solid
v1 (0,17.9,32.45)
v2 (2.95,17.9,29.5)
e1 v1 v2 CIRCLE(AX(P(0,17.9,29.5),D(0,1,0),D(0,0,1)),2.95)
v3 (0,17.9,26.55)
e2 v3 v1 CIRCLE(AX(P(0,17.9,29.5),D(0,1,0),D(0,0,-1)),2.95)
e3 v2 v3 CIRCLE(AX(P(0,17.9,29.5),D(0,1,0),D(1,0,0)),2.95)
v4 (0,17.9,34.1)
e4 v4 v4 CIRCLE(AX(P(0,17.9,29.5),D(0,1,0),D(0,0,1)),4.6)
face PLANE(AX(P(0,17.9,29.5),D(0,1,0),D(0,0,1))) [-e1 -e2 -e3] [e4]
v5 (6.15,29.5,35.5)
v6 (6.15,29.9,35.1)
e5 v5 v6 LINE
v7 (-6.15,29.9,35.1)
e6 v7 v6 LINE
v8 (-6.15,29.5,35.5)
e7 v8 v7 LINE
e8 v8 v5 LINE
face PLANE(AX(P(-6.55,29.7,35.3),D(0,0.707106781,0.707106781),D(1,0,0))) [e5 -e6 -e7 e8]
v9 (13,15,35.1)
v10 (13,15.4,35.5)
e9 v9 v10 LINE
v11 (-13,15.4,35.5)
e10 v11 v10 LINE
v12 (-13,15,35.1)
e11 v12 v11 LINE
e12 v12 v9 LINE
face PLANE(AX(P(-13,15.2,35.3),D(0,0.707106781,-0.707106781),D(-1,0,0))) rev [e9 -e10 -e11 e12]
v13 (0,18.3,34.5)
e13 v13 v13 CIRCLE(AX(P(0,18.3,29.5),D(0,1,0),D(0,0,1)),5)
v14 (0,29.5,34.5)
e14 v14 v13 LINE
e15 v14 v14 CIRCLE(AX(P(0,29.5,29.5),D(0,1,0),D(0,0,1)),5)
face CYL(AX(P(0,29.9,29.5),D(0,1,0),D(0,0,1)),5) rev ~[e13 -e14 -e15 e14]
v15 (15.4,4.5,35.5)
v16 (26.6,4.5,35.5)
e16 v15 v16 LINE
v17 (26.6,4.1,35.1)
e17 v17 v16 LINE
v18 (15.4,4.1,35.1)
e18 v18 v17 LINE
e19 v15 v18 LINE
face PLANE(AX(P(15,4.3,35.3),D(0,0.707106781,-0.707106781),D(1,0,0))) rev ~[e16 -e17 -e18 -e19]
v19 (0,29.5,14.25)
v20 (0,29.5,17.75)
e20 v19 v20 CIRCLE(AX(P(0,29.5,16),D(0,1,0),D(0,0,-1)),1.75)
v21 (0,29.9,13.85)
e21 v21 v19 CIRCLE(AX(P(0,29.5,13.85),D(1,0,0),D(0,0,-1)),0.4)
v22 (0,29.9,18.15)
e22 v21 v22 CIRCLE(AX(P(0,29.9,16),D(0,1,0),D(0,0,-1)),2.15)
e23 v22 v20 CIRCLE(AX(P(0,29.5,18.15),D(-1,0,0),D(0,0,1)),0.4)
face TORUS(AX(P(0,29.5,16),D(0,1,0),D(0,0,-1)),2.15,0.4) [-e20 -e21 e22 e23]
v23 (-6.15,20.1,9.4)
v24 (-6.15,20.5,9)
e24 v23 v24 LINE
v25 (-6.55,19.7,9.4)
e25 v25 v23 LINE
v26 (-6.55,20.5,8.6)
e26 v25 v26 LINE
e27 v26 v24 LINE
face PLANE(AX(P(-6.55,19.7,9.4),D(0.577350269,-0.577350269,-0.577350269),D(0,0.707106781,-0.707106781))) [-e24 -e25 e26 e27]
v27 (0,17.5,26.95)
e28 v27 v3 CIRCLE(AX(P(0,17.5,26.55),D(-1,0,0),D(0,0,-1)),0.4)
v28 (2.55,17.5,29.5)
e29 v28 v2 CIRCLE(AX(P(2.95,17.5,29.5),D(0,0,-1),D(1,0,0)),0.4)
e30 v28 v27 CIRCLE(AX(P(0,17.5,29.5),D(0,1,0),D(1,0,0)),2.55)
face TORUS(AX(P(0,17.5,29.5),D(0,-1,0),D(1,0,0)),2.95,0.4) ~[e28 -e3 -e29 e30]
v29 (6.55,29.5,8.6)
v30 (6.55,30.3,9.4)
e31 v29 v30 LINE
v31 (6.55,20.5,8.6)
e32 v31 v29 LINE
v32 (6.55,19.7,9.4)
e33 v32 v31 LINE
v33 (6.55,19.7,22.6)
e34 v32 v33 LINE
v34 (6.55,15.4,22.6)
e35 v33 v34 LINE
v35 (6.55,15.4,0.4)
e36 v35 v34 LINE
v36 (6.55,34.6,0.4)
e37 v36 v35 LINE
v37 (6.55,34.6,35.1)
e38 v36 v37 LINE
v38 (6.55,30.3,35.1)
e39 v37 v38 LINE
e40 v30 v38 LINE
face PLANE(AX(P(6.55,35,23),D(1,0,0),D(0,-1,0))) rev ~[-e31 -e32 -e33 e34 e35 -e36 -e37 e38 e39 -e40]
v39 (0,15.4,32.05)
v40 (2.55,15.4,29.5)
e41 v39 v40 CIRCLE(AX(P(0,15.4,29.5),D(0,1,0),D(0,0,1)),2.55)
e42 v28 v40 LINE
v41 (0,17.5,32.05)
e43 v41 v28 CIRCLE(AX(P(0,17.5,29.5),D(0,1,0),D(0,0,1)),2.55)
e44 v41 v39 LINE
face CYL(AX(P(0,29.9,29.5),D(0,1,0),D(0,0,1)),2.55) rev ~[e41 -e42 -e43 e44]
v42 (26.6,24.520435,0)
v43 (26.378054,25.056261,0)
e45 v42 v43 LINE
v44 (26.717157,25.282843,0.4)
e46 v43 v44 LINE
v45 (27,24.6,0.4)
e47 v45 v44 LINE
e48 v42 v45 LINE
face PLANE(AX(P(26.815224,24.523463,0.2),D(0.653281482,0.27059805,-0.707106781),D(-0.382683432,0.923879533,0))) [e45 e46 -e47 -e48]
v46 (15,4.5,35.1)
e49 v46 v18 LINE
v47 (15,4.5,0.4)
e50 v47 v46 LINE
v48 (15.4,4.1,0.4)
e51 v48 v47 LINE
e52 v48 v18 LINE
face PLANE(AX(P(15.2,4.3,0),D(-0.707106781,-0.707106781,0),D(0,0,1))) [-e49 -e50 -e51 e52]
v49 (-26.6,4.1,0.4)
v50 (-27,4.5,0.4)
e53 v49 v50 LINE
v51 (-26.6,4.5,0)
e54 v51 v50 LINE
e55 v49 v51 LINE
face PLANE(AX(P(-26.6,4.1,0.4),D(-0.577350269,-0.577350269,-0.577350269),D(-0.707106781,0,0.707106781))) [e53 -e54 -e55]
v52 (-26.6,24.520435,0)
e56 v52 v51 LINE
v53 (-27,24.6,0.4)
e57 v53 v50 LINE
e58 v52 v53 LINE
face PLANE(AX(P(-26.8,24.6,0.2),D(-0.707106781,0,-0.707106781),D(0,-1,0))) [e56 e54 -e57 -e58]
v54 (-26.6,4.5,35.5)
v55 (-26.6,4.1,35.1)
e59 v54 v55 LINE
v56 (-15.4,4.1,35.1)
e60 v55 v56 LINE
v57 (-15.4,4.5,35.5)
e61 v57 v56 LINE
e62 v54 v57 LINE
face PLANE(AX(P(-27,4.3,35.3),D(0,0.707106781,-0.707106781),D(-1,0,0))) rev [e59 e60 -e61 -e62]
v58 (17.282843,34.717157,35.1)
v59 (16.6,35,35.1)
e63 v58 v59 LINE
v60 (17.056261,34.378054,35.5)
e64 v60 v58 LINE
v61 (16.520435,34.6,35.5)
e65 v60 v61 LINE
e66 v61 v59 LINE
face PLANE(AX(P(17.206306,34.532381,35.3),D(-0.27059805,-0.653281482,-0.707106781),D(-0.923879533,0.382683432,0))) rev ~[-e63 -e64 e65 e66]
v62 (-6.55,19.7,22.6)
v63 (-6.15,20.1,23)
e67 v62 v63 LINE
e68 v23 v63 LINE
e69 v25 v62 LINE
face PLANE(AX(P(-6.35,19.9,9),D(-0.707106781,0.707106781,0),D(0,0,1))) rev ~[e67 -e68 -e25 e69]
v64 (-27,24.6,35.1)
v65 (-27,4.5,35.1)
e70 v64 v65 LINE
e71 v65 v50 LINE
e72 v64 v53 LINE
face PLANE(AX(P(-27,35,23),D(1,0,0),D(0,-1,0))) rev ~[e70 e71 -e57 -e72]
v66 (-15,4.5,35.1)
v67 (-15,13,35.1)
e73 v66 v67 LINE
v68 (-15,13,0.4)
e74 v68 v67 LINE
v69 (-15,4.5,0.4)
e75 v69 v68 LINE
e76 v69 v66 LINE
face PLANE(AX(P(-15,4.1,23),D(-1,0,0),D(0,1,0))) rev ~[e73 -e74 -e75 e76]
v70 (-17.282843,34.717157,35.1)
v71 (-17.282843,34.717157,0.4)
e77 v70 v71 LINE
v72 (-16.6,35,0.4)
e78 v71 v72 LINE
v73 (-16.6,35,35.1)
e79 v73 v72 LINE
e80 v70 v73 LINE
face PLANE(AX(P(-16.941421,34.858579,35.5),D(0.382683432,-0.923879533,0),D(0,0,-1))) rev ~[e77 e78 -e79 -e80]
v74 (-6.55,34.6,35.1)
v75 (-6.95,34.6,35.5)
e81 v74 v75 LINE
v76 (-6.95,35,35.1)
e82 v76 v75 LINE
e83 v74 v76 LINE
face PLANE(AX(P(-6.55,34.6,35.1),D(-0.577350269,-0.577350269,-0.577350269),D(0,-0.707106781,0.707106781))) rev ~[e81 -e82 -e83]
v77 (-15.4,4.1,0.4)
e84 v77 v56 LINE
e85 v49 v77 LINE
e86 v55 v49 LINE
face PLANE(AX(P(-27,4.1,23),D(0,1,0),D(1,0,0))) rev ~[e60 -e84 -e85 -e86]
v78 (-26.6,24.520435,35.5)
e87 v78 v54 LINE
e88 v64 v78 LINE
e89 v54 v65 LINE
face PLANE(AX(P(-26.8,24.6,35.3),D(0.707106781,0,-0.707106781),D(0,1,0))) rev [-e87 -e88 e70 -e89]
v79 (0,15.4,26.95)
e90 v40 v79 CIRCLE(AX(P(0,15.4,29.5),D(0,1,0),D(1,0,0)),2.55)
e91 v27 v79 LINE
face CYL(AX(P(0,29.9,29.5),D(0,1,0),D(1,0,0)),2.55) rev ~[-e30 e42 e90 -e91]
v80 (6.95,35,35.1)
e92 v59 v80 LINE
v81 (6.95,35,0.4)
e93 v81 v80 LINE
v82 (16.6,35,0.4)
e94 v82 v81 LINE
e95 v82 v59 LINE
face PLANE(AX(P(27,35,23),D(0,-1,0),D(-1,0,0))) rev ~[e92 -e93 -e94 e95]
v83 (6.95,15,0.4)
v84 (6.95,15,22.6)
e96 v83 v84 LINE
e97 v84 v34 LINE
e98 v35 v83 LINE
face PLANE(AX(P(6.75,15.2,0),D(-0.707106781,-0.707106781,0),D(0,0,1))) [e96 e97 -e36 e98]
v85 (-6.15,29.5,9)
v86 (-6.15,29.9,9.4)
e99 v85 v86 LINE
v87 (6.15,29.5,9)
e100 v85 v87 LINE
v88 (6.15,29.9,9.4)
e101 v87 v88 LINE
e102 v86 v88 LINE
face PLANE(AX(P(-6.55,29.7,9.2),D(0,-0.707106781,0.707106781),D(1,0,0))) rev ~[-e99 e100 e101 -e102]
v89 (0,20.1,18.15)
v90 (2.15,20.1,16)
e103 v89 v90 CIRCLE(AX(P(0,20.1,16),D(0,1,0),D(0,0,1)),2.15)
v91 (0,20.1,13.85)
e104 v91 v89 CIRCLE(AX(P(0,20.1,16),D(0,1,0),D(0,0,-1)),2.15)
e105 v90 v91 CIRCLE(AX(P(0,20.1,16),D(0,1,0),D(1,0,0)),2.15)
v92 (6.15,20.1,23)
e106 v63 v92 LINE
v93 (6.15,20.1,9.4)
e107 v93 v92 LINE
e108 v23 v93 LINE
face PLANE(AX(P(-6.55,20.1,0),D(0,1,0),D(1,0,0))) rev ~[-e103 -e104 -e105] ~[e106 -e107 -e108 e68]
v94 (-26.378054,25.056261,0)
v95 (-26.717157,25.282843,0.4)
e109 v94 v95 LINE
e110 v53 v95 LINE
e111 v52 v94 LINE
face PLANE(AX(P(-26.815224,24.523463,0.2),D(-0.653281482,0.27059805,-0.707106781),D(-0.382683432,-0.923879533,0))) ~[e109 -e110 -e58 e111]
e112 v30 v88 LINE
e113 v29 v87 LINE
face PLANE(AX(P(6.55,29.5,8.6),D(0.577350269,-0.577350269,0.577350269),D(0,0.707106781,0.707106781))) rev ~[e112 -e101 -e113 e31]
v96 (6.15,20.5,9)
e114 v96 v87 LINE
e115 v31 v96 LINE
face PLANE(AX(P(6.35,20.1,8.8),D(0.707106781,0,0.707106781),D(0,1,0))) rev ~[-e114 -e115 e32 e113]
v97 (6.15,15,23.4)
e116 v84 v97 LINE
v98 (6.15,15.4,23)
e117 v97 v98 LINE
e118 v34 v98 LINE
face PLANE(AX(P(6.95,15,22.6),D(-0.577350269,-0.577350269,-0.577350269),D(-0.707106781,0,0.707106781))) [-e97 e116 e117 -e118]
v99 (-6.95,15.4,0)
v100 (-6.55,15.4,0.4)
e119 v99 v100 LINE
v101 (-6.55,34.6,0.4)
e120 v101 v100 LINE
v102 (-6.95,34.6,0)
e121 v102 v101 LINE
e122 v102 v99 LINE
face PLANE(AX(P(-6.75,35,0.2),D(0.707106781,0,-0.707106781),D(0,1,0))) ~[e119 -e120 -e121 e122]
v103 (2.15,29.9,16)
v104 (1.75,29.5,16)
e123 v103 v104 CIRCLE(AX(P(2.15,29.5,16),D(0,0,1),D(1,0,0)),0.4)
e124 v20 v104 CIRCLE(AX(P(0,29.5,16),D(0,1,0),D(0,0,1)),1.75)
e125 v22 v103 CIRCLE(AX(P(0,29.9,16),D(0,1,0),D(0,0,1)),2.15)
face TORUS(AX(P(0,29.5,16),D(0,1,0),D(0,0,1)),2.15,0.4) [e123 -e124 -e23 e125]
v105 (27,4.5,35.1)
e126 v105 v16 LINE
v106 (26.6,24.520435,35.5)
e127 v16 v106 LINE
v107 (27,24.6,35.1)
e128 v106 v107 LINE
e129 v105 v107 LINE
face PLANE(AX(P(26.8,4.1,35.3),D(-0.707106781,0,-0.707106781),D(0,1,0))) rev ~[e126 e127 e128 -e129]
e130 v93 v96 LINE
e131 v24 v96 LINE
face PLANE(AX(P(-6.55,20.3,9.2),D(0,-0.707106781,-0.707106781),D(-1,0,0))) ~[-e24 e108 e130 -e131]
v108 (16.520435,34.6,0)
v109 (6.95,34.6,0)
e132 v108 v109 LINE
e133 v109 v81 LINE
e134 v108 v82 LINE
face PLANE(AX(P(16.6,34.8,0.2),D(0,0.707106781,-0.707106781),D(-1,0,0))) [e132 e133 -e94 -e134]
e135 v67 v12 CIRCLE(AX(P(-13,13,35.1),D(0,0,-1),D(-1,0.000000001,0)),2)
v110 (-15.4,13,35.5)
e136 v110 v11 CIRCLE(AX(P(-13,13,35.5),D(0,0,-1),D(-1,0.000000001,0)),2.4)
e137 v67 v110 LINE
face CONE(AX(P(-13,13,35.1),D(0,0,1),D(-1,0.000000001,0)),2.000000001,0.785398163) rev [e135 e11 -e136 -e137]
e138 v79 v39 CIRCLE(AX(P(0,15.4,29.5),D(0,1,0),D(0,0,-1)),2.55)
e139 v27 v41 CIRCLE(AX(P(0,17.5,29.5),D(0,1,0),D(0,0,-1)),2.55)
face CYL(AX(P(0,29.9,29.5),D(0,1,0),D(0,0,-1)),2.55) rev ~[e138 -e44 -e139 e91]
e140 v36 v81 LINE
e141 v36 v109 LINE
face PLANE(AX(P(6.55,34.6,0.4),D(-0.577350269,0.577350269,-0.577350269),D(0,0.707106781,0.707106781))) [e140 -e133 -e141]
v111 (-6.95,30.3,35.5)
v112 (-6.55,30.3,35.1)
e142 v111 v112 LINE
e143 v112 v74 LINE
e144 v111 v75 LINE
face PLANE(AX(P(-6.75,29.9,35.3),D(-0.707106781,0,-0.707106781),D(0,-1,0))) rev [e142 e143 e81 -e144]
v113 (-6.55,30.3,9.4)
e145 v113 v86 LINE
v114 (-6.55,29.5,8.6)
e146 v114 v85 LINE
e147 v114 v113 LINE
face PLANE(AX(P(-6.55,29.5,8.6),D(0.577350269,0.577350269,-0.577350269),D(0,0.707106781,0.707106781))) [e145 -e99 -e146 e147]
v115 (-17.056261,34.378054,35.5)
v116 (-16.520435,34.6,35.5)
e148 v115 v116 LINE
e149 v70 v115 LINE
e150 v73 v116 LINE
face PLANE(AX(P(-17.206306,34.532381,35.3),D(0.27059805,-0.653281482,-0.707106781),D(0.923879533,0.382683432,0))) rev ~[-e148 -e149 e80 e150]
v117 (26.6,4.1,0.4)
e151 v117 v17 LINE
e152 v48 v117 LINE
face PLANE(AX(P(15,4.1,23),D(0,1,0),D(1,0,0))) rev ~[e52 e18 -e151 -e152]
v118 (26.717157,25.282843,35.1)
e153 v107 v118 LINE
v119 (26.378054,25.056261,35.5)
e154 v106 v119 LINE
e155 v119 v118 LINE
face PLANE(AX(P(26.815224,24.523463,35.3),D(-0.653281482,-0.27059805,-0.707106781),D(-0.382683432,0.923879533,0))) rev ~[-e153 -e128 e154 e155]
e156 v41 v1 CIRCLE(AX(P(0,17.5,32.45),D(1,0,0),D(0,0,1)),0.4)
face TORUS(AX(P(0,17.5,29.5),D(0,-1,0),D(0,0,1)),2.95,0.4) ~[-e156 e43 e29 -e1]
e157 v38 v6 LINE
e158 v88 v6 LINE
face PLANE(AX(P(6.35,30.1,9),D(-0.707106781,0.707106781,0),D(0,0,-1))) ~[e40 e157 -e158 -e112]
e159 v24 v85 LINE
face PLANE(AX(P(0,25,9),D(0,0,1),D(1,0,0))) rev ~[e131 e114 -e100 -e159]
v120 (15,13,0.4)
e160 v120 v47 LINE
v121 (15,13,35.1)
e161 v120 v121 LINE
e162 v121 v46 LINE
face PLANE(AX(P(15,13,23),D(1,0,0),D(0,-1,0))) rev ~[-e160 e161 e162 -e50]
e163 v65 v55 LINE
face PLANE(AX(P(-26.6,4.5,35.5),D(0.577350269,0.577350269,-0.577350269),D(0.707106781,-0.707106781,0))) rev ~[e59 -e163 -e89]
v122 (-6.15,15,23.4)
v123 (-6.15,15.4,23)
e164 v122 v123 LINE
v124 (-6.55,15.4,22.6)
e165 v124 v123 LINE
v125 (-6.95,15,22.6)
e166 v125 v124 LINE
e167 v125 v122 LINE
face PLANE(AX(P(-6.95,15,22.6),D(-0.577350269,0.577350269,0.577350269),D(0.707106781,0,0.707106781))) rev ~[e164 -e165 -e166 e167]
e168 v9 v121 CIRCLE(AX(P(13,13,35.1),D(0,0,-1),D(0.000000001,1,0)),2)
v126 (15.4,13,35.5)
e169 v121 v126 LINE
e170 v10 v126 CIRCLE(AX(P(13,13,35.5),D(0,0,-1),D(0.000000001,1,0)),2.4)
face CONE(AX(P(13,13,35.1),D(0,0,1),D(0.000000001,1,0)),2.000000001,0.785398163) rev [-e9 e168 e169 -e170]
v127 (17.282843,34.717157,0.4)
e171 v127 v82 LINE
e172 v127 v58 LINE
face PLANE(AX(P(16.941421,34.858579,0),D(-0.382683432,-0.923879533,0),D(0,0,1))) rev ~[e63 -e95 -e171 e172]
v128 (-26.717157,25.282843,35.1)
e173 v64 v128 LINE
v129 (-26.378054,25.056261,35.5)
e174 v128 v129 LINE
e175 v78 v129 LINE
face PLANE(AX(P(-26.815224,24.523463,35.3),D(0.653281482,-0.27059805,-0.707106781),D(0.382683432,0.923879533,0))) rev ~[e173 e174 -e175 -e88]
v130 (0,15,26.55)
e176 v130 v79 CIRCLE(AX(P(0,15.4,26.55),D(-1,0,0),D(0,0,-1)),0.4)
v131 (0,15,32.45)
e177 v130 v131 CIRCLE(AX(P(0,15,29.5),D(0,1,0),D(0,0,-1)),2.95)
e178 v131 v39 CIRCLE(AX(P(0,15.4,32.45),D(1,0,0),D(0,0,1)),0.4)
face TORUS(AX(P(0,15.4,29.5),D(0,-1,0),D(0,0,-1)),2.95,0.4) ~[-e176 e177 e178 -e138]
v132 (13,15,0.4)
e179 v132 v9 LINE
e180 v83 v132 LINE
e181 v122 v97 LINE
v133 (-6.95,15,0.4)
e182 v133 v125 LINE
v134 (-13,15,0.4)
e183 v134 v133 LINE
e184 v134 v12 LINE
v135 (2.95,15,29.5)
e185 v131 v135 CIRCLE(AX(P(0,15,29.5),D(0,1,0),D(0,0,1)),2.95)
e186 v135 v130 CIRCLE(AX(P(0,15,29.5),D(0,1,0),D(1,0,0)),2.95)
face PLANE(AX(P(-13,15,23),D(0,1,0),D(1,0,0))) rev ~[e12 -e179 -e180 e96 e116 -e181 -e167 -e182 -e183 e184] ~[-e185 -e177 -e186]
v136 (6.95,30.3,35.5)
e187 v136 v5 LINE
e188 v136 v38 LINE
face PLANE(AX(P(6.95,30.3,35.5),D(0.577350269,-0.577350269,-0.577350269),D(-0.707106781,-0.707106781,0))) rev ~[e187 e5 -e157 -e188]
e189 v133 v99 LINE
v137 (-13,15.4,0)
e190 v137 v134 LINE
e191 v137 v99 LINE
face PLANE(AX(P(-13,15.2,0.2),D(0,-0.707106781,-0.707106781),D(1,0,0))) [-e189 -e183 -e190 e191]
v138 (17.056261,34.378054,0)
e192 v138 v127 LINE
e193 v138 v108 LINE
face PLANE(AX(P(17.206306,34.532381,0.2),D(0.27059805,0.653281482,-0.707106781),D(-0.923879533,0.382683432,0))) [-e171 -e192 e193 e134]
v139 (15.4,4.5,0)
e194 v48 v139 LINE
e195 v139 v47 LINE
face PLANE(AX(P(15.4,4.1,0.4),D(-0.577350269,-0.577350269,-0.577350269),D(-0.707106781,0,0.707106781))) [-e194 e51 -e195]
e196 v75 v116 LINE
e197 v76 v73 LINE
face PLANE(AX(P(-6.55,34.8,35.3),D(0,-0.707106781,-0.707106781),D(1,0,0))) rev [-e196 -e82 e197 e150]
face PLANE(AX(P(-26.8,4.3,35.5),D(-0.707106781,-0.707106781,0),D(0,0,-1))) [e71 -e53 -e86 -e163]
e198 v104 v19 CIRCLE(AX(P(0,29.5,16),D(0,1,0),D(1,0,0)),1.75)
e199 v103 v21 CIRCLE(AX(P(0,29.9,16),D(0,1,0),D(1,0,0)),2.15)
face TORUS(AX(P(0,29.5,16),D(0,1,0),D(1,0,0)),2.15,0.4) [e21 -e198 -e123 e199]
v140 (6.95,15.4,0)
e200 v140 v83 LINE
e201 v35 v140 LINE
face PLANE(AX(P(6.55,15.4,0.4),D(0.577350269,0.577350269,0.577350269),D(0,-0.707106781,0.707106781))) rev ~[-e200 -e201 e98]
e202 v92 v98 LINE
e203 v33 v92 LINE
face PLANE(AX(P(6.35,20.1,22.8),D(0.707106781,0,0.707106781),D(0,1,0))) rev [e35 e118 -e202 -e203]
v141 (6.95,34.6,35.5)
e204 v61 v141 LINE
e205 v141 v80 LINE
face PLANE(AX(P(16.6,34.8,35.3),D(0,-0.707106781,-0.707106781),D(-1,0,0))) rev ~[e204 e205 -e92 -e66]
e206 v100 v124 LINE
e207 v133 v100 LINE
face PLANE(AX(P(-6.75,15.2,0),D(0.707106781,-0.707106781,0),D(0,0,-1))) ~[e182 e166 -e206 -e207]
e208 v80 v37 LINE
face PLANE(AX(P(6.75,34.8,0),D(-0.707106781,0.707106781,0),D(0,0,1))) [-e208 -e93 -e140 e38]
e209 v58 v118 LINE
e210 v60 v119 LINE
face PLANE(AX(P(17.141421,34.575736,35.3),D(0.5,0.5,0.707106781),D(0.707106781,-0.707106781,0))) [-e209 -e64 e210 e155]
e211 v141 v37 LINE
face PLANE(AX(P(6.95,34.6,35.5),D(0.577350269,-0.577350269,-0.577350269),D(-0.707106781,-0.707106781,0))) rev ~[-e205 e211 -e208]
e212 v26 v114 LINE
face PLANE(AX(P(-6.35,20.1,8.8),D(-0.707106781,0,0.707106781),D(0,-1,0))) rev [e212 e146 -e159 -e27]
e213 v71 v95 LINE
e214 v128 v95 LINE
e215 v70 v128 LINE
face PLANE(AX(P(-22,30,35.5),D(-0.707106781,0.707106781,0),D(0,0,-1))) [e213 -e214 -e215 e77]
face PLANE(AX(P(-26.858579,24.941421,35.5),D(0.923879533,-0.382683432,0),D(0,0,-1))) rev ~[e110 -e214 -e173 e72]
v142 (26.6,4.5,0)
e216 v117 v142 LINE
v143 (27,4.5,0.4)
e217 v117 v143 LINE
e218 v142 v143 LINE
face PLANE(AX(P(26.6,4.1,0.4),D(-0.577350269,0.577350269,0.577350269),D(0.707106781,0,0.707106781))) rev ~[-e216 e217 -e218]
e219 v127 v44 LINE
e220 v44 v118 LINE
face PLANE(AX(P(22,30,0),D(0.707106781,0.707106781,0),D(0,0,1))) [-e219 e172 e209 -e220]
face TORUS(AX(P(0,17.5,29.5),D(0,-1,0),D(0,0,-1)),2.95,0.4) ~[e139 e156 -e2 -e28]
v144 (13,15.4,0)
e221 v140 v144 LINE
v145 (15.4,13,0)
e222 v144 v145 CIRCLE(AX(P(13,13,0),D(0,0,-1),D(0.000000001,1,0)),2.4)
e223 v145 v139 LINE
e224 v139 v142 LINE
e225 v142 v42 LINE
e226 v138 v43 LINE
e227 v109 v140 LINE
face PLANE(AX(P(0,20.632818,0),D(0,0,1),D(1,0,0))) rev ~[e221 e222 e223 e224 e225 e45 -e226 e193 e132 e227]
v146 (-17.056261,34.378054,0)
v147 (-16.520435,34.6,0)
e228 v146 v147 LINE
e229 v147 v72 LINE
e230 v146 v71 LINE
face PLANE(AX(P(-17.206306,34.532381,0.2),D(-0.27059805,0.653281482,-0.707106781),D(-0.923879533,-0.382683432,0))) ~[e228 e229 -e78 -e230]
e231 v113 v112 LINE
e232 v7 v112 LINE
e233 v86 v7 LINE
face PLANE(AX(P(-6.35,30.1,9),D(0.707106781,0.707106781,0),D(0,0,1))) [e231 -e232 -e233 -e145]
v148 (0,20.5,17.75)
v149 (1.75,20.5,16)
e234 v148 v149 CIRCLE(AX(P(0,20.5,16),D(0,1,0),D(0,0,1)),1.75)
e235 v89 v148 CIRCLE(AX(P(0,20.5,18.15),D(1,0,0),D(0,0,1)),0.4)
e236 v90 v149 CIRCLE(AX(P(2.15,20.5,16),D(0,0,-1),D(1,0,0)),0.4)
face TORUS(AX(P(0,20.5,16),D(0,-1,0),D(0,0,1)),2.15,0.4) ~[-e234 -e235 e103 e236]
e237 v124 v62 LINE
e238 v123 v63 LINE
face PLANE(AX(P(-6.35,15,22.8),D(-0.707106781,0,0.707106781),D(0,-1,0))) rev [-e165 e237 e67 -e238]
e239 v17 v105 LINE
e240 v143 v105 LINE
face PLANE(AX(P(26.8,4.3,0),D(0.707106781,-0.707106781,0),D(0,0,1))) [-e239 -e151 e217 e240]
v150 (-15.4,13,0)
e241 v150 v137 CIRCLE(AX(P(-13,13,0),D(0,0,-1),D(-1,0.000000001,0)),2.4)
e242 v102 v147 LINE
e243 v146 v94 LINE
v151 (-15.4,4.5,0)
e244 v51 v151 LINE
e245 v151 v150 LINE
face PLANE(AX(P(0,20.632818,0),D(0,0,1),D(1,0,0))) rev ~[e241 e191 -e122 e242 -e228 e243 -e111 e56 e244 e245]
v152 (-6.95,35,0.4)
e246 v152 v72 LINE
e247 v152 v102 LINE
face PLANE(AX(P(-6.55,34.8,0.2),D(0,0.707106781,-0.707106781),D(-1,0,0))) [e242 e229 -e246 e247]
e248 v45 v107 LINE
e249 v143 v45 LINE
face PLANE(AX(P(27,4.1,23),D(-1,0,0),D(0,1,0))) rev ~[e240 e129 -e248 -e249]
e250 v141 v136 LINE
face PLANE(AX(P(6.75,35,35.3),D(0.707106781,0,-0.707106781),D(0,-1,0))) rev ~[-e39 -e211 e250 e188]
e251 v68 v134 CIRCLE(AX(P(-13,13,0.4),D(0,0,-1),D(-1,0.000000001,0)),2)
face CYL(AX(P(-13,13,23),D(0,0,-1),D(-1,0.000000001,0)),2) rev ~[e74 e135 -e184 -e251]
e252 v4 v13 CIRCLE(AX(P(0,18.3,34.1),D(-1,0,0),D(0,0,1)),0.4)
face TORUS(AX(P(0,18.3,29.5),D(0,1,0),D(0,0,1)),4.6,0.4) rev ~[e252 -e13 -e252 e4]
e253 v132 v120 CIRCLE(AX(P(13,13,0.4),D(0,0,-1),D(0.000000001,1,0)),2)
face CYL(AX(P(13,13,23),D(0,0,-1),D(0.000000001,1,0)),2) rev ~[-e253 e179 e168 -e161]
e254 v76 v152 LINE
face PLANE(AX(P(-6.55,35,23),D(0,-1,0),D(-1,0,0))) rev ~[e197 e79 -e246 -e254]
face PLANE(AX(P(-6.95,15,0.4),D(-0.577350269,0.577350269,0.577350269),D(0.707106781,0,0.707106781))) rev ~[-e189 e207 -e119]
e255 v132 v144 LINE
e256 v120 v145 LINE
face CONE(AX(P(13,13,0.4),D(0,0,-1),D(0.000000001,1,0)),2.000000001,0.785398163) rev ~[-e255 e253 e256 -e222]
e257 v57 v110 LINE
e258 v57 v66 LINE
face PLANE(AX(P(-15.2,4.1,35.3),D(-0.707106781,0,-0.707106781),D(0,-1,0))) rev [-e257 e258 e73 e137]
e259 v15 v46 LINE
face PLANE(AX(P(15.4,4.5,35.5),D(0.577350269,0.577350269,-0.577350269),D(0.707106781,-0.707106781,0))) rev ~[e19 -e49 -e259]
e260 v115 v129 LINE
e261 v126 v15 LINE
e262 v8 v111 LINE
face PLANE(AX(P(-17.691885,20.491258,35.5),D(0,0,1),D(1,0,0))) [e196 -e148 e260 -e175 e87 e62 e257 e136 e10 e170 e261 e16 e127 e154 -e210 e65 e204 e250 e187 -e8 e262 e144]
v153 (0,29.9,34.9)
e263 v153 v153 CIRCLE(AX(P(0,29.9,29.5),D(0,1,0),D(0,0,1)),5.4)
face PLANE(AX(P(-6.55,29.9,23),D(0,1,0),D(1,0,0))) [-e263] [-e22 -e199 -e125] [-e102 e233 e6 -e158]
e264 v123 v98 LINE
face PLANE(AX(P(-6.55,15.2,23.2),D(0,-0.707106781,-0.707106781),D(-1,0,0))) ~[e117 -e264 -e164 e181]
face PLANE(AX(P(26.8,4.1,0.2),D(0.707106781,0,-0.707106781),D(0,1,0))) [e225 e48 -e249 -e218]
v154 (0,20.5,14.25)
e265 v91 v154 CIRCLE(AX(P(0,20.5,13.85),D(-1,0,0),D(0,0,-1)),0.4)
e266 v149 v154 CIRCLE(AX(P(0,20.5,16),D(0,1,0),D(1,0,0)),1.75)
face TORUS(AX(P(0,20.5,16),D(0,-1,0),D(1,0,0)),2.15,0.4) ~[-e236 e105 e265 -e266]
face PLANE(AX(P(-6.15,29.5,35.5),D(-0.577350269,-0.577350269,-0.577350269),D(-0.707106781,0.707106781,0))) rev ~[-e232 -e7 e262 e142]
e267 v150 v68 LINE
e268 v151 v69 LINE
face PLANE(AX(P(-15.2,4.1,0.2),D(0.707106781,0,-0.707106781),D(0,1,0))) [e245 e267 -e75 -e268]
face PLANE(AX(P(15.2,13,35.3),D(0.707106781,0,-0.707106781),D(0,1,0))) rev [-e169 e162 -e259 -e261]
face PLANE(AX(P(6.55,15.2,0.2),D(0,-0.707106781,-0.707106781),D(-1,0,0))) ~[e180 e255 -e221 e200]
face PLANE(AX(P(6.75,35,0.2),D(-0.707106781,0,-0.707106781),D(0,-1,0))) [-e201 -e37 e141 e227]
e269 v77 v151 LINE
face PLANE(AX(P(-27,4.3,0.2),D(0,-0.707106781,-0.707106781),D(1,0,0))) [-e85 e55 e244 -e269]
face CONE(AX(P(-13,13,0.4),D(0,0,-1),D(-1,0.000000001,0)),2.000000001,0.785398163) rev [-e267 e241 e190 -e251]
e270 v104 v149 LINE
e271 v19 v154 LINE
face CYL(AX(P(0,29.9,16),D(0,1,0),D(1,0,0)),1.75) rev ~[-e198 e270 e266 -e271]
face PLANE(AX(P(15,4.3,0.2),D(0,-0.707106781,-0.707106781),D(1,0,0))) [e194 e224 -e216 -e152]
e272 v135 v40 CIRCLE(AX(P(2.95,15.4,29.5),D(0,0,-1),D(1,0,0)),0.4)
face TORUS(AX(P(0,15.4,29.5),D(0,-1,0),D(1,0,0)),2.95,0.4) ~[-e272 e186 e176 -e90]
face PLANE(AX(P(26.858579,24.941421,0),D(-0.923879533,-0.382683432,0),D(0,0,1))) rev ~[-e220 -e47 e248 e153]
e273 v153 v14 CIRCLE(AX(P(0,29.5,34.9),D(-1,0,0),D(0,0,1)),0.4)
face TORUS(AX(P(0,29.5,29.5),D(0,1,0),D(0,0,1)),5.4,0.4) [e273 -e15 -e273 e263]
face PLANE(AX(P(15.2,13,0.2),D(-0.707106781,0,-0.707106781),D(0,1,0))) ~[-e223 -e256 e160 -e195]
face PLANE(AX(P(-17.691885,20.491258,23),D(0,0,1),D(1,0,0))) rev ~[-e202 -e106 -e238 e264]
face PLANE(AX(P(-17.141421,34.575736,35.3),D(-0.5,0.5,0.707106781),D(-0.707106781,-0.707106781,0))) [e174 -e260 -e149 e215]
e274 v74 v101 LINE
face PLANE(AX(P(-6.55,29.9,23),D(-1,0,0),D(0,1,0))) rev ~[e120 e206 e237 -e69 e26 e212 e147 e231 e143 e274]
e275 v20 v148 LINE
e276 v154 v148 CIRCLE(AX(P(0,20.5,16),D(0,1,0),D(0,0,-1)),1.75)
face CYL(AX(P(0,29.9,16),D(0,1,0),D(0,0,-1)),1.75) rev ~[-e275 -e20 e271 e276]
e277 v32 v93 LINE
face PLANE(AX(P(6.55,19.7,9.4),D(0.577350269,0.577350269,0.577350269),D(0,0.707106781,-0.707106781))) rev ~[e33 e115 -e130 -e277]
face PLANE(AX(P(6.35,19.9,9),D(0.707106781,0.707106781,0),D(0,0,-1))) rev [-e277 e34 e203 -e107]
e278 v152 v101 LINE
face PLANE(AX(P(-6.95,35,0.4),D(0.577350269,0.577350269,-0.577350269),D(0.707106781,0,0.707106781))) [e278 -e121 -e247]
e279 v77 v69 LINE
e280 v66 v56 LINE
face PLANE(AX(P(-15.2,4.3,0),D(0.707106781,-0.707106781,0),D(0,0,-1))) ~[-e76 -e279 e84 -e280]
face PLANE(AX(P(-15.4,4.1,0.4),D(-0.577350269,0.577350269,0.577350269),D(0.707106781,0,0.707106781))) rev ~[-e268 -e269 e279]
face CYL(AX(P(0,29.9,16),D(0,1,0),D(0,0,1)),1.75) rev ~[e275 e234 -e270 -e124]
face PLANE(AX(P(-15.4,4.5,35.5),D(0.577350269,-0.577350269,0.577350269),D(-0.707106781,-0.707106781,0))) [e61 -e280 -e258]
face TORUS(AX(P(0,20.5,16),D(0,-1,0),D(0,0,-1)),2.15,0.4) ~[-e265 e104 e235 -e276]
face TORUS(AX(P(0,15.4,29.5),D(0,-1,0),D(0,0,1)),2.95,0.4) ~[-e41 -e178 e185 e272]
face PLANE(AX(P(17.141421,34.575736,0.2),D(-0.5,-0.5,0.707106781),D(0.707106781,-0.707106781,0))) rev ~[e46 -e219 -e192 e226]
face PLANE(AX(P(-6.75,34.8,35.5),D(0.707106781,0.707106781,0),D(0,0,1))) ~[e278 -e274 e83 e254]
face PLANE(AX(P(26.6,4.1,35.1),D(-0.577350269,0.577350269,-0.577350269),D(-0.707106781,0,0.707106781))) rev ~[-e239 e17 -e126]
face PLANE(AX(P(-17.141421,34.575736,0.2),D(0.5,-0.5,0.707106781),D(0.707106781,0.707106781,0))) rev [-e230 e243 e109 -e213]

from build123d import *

# Parameters (mm, degrees)
BOSS_EXTRUDE1_DEPTH = 23
BOSS_EXTRUDE5_START = 23
SKETCH1_9_W         = 13.1
SKETCH1_9_H         = 9.8
SKETCH1_9_H_2       = 5.1
BOSS_EXTRUDE5_DEPTH = 12.5
SKETCH1_4_W         = 13.1
SKETCH1_4_H         = 9.8
CUT_EXTRUDE1_DEPTH  = 9
CHAMFER4_SIZE       = 10
CHAMFER6_SIZE       = 0.4
CUT_EXTRUDE5_DEPTH  = 52.525624693
SKETCH6_4_R         = 1.75
SKETCH6_4_R_2       = 5
SKETCH6_4_R_3       = 2.55
CUT_EXTRUDE6_DEPTH  = 12
CHAMFER7_SIZE       = 0.4
FILLET1_R           = 0.4


with BuildPart() as part:
    # Sketch1 → Boss-Extrude1 (new body)
    with BuildSketch(Plane.XY):
        with BuildLine():
            Line((-27, 4.1), (-15, 4.1))
            Line((-15, 4.1), (-15, 13))
            ThreePointArc((-15, 13), (-14.414213562, 14.414213562), (-13, 15))
            Line((-13, 15), (-6.55, 15))
            Line((-6.55, 15), (-6.55, 20.1))
            Line((-6.55, 20.1), (6.55, 20.1))
            Line((6.55, 20.1), (6.55, 15))
            Line((6.55, 15), (13, 15))
            ThreePointArc((13, 15), (14.414213562, 14.414213562), (15, 13))
            Line((15, 13), (15, 4.1))
            Line((15, 4.1), (27, 4.1))
            Line((27, 4.1), (27, 35))
            Line((27, 35), (6.55, 35))
            Line((6.55, 35), (6.55, 29.9))
            Line((6.55, 29.9), (-6.55, 29.9))
            Line((-6.55, 29.9), (-6.55, 35))
            Line((-6.55, 35), (-27, 35))
            Line((-27, 35), (-27, 4.1))
        make_face()
    extrude(amount=BOSS_EXTRUDE1_DEPTH)

    # Sketch1<9> → Boss-Extrude5 (add)
    with BuildSketch(Plane.XY.offset(BOSS_EXTRUDE5_START)):
        with BuildLine():
            Line((-27, 4.1), (-15, 4.1))
            Line((-15, 4.1), (-15, 13))
            ThreePointArc((-15, 13), (-14.414213562, 14.414213562), (-13, 15))
            Line((-13, 15), (-6.55, 15))
            Line((-6.55, 15), (-6.55, 20.1))
            Line((-6.55, 20.1), (-6.55, 29.9))
            Line((-6.55, 29.9), (-6.55, 35))
            Line((-6.55, 35), (-27, 35))
            Line((-27, 35), (-27, 4.1))
        make_face()
        with Locations((0, 25)):
            Rectangle(SKETCH1_9_W, SKETCH1_9_H)
        with BuildLine():
            Line((6.55, 20.1), (6.55, 15))
            Line((6.55, 15), (13, 15))
            ThreePointArc((13, 15), (14.414213562, 14.414213562), (15, 13))
            Line((15, 13), (15, 4.1))
            Line((15, 4.1), (27, 4.1))
            Line((27, 4.1), (27, 35))
            Line((27, 35), (6.55, 35))
            Line((6.55, 35), (6.55, 29.9))
            Line((6.55, 29.9), (6.55, 20.1))
        make_face()
        with Locations((0, 17.55)):
            Rectangle(SKETCH1_9_W, SKETCH1_9_H_2)
    extrude(amount=BOSS_EXTRUDE5_DEPTH)

    # Sketch1<4> → Cut-Extrude1 (cut)
    with BuildSketch(Plane.XY):
        with Locations((0, 25)):
            Rectangle(SKETCH1_4_W, SKETCH1_4_H)
    extrude(amount=CUT_EXTRUDE1_DEPTH, mode=Mode.SUBTRACT)

    # Chamfer4
    chamfer4_edges = [part.edges().sort_by_distance(p)[0] for p in [
        (-27, 35, 17.75),
        (27, 35, 17.75),
    ]]
    chamfer(chamfer4_edges, length=CHAMFER4_SIZE)

    # Chamfer6
    chamfer6_edges = [part.edges().sort_by_distance(p)[0] for p in [
        (17, 35, 17.75),
        (27, 25, 17.75),
        (-27, 25, 17.75),
        (-17, 35, 17.75),
    ]]
    chamfer(chamfer6_edges, length=CHAMFER6_SIZE)

    # Sketch6 → Cut-Extrude5 (cut, through all)
    with BuildSketch(Plane(origin=(0, 29.9, 0), x_dir=(1, 0, 0), z_dir=(0, 1, 0))):
        with BuildLine():
            ThreePointArc((1.75, -16), (1.237436867, -14.762563133), (0, -14.25))
            Line((0, -14.25), (0, -17.75))
            ThreePointArc((0, -17.75), (1.237436867, -17.237436867), (1.75, -16))
        make_face()
        with BuildLine():
            Line((0, -17.75), (0, -14.25))
            ThreePointArc((0, -14.25), (-1.75, -16), (0, -17.75))
        make_face()
        with BuildLine():
            ThreePointArc((2.55, -29.5), (1.803122292, -27.696877708), (0, -26.95))
            Line((0, -26.95), (0, -32.05))
            ThreePointArc((0, -32.05), (1.803122292, -31.303122292), (2.55, -29.5))
        make_face()
        with BuildLine():
            Line((0, -32.05), (0, -26.95))
            ThreePointArc((0, -26.95), (-2.55, -29.5), (0, -32.05))
        make_face()
    extrude(amount=-CUT_EXTRUDE5_DEPTH, mode=Mode.SUBTRACT)

    # Sketch6<4> → Cut-Extrude6 (cut)
    # profile 1 of 2: a face of its own
    with BuildSketch(Plane(origin=(0, 29.9, 0), x_dir=(1, 0, 0), z_dir=(0, 1, 0))):
        with Locations(Location((0, -16, 0), (0, 0, 270))):
            Circle(SKETCH6_4_R)
    # profile 2 of 2: a face of its own
    with BuildSketch(Plane(origin=(0, 29.9, 0), x_dir=(1, 0, 0), z_dir=(0, 1, 0))):
        with Locations(Location((0, -29.5, 0), (0, 0, 270))):
            Circle(SKETCH6_4_R_2)
        with Locations(Location((0, -29.5, 0), (0, 0, 270))):
            Circle(SKETCH6_4_R_3, mode=Mode.SUBTRACT)
    extrude(amount=-CUT_EXTRUDE6_DEPTH, mode=Mode.SUBTRACT)

    # Chamfer7
    chamfer7_edges = [part.edges().sort_by_distance(p)[0] for p in [
        (0, 29.9, 9),
        (6.55, 25, 9),
        (-6.55, 25, 9),
        (0, 20.1, 9),
        (-27, 14.35, 0),
        (-22, 30, 0),
        (-16.941421356, 34.858578644, 0),
        (-26.858578644, 24.941421356, 0),
        (-22, 30, 35.5),
        (27, 14.35, 35.5),
        (22, 30, 35.5),
        (-11.575, 35, 35.5),
        (26.858578644, 24.941421356, 35.5),
        (16.941421356, 34.858578644, 35.5),
        (-16.941421356, 34.858578644, 35.5),
        (-26.858578644, 24.941421356, 35.5),
        (11.575, 35, 0),
        (22, 30, 0),
        (26.858578644, 24.941421356, 0),
        (16.941421356, 34.858578644, 0),
        (9.775, 15, 0),
        (6.55, 25, 0),
        (-6.55, 25, 0),
        (-9.775, 15, 0),
        (-14.414213562, 14.414213562, 0),
        (-15, 8.55, 0),
        (-21, 4.1, 0),
        (-11.575, 35, 0),
        (27, 14.35, 0),
        (21, 4.1, 0),
        (15, 8.55, 0),
        (14.414213562, 14.414213562, 0),
        (6.55, 15, 11.5),
        (6.55, 20.1, 16),
        (-6.55, 20.1, 16),
        (-6.55, 15, 11.5),
        (-15, 4.1, 17.75),
        (-27, 4.1, 17.75),
        (-6.55, 35, 17.75),
        (-6.55, 29.9, 22.25),
        (6.55, 29.9, 22.25),
        (6.55, 35, 17.75),
        (27, 4.1, 17.75),
        (15, 4.1, 17.75),
        (-15, 8.55, 35.5),
        (-14.414213562, 14.414213562, 35.5),
        (0, 15, 35.5),
        (14.414213562, 14.414213562, 35.5),
        (15, 8.55, 35.5),
        (21, 4.1, 35.5),
        (11.575, 35, 35.5),
        (6.55, 32.45, 35.5),
        (-27, 14.35, 35.5),
        (0, 29.9, 35.5),
        (-6.55, 32.45, 35.5),
        (-21, 4.1, 35.5),
        (0, 15, 23),
        (-6.55, 17.55, 23),
        (6.55, 17.55, 23),
    ]]
    chamfer(chamfer7_edges, length=CHAMFER7_SIZE)

    # Fillet1
    fillet1_edges = [part.edges().sort_by_distance(p)[0] for p in [
        (0, 20.1, 14.25),
        (0, 29.9, 14.25),
        (0, 15, 32.05),
        (0, 17.9, 24.5),
        (0, 17.9, 32.05),
        (0, 29.9, 24.5),
    ]]
    fillet(fillet1_edges, radius=FILLET1_R)


solid = part.part
